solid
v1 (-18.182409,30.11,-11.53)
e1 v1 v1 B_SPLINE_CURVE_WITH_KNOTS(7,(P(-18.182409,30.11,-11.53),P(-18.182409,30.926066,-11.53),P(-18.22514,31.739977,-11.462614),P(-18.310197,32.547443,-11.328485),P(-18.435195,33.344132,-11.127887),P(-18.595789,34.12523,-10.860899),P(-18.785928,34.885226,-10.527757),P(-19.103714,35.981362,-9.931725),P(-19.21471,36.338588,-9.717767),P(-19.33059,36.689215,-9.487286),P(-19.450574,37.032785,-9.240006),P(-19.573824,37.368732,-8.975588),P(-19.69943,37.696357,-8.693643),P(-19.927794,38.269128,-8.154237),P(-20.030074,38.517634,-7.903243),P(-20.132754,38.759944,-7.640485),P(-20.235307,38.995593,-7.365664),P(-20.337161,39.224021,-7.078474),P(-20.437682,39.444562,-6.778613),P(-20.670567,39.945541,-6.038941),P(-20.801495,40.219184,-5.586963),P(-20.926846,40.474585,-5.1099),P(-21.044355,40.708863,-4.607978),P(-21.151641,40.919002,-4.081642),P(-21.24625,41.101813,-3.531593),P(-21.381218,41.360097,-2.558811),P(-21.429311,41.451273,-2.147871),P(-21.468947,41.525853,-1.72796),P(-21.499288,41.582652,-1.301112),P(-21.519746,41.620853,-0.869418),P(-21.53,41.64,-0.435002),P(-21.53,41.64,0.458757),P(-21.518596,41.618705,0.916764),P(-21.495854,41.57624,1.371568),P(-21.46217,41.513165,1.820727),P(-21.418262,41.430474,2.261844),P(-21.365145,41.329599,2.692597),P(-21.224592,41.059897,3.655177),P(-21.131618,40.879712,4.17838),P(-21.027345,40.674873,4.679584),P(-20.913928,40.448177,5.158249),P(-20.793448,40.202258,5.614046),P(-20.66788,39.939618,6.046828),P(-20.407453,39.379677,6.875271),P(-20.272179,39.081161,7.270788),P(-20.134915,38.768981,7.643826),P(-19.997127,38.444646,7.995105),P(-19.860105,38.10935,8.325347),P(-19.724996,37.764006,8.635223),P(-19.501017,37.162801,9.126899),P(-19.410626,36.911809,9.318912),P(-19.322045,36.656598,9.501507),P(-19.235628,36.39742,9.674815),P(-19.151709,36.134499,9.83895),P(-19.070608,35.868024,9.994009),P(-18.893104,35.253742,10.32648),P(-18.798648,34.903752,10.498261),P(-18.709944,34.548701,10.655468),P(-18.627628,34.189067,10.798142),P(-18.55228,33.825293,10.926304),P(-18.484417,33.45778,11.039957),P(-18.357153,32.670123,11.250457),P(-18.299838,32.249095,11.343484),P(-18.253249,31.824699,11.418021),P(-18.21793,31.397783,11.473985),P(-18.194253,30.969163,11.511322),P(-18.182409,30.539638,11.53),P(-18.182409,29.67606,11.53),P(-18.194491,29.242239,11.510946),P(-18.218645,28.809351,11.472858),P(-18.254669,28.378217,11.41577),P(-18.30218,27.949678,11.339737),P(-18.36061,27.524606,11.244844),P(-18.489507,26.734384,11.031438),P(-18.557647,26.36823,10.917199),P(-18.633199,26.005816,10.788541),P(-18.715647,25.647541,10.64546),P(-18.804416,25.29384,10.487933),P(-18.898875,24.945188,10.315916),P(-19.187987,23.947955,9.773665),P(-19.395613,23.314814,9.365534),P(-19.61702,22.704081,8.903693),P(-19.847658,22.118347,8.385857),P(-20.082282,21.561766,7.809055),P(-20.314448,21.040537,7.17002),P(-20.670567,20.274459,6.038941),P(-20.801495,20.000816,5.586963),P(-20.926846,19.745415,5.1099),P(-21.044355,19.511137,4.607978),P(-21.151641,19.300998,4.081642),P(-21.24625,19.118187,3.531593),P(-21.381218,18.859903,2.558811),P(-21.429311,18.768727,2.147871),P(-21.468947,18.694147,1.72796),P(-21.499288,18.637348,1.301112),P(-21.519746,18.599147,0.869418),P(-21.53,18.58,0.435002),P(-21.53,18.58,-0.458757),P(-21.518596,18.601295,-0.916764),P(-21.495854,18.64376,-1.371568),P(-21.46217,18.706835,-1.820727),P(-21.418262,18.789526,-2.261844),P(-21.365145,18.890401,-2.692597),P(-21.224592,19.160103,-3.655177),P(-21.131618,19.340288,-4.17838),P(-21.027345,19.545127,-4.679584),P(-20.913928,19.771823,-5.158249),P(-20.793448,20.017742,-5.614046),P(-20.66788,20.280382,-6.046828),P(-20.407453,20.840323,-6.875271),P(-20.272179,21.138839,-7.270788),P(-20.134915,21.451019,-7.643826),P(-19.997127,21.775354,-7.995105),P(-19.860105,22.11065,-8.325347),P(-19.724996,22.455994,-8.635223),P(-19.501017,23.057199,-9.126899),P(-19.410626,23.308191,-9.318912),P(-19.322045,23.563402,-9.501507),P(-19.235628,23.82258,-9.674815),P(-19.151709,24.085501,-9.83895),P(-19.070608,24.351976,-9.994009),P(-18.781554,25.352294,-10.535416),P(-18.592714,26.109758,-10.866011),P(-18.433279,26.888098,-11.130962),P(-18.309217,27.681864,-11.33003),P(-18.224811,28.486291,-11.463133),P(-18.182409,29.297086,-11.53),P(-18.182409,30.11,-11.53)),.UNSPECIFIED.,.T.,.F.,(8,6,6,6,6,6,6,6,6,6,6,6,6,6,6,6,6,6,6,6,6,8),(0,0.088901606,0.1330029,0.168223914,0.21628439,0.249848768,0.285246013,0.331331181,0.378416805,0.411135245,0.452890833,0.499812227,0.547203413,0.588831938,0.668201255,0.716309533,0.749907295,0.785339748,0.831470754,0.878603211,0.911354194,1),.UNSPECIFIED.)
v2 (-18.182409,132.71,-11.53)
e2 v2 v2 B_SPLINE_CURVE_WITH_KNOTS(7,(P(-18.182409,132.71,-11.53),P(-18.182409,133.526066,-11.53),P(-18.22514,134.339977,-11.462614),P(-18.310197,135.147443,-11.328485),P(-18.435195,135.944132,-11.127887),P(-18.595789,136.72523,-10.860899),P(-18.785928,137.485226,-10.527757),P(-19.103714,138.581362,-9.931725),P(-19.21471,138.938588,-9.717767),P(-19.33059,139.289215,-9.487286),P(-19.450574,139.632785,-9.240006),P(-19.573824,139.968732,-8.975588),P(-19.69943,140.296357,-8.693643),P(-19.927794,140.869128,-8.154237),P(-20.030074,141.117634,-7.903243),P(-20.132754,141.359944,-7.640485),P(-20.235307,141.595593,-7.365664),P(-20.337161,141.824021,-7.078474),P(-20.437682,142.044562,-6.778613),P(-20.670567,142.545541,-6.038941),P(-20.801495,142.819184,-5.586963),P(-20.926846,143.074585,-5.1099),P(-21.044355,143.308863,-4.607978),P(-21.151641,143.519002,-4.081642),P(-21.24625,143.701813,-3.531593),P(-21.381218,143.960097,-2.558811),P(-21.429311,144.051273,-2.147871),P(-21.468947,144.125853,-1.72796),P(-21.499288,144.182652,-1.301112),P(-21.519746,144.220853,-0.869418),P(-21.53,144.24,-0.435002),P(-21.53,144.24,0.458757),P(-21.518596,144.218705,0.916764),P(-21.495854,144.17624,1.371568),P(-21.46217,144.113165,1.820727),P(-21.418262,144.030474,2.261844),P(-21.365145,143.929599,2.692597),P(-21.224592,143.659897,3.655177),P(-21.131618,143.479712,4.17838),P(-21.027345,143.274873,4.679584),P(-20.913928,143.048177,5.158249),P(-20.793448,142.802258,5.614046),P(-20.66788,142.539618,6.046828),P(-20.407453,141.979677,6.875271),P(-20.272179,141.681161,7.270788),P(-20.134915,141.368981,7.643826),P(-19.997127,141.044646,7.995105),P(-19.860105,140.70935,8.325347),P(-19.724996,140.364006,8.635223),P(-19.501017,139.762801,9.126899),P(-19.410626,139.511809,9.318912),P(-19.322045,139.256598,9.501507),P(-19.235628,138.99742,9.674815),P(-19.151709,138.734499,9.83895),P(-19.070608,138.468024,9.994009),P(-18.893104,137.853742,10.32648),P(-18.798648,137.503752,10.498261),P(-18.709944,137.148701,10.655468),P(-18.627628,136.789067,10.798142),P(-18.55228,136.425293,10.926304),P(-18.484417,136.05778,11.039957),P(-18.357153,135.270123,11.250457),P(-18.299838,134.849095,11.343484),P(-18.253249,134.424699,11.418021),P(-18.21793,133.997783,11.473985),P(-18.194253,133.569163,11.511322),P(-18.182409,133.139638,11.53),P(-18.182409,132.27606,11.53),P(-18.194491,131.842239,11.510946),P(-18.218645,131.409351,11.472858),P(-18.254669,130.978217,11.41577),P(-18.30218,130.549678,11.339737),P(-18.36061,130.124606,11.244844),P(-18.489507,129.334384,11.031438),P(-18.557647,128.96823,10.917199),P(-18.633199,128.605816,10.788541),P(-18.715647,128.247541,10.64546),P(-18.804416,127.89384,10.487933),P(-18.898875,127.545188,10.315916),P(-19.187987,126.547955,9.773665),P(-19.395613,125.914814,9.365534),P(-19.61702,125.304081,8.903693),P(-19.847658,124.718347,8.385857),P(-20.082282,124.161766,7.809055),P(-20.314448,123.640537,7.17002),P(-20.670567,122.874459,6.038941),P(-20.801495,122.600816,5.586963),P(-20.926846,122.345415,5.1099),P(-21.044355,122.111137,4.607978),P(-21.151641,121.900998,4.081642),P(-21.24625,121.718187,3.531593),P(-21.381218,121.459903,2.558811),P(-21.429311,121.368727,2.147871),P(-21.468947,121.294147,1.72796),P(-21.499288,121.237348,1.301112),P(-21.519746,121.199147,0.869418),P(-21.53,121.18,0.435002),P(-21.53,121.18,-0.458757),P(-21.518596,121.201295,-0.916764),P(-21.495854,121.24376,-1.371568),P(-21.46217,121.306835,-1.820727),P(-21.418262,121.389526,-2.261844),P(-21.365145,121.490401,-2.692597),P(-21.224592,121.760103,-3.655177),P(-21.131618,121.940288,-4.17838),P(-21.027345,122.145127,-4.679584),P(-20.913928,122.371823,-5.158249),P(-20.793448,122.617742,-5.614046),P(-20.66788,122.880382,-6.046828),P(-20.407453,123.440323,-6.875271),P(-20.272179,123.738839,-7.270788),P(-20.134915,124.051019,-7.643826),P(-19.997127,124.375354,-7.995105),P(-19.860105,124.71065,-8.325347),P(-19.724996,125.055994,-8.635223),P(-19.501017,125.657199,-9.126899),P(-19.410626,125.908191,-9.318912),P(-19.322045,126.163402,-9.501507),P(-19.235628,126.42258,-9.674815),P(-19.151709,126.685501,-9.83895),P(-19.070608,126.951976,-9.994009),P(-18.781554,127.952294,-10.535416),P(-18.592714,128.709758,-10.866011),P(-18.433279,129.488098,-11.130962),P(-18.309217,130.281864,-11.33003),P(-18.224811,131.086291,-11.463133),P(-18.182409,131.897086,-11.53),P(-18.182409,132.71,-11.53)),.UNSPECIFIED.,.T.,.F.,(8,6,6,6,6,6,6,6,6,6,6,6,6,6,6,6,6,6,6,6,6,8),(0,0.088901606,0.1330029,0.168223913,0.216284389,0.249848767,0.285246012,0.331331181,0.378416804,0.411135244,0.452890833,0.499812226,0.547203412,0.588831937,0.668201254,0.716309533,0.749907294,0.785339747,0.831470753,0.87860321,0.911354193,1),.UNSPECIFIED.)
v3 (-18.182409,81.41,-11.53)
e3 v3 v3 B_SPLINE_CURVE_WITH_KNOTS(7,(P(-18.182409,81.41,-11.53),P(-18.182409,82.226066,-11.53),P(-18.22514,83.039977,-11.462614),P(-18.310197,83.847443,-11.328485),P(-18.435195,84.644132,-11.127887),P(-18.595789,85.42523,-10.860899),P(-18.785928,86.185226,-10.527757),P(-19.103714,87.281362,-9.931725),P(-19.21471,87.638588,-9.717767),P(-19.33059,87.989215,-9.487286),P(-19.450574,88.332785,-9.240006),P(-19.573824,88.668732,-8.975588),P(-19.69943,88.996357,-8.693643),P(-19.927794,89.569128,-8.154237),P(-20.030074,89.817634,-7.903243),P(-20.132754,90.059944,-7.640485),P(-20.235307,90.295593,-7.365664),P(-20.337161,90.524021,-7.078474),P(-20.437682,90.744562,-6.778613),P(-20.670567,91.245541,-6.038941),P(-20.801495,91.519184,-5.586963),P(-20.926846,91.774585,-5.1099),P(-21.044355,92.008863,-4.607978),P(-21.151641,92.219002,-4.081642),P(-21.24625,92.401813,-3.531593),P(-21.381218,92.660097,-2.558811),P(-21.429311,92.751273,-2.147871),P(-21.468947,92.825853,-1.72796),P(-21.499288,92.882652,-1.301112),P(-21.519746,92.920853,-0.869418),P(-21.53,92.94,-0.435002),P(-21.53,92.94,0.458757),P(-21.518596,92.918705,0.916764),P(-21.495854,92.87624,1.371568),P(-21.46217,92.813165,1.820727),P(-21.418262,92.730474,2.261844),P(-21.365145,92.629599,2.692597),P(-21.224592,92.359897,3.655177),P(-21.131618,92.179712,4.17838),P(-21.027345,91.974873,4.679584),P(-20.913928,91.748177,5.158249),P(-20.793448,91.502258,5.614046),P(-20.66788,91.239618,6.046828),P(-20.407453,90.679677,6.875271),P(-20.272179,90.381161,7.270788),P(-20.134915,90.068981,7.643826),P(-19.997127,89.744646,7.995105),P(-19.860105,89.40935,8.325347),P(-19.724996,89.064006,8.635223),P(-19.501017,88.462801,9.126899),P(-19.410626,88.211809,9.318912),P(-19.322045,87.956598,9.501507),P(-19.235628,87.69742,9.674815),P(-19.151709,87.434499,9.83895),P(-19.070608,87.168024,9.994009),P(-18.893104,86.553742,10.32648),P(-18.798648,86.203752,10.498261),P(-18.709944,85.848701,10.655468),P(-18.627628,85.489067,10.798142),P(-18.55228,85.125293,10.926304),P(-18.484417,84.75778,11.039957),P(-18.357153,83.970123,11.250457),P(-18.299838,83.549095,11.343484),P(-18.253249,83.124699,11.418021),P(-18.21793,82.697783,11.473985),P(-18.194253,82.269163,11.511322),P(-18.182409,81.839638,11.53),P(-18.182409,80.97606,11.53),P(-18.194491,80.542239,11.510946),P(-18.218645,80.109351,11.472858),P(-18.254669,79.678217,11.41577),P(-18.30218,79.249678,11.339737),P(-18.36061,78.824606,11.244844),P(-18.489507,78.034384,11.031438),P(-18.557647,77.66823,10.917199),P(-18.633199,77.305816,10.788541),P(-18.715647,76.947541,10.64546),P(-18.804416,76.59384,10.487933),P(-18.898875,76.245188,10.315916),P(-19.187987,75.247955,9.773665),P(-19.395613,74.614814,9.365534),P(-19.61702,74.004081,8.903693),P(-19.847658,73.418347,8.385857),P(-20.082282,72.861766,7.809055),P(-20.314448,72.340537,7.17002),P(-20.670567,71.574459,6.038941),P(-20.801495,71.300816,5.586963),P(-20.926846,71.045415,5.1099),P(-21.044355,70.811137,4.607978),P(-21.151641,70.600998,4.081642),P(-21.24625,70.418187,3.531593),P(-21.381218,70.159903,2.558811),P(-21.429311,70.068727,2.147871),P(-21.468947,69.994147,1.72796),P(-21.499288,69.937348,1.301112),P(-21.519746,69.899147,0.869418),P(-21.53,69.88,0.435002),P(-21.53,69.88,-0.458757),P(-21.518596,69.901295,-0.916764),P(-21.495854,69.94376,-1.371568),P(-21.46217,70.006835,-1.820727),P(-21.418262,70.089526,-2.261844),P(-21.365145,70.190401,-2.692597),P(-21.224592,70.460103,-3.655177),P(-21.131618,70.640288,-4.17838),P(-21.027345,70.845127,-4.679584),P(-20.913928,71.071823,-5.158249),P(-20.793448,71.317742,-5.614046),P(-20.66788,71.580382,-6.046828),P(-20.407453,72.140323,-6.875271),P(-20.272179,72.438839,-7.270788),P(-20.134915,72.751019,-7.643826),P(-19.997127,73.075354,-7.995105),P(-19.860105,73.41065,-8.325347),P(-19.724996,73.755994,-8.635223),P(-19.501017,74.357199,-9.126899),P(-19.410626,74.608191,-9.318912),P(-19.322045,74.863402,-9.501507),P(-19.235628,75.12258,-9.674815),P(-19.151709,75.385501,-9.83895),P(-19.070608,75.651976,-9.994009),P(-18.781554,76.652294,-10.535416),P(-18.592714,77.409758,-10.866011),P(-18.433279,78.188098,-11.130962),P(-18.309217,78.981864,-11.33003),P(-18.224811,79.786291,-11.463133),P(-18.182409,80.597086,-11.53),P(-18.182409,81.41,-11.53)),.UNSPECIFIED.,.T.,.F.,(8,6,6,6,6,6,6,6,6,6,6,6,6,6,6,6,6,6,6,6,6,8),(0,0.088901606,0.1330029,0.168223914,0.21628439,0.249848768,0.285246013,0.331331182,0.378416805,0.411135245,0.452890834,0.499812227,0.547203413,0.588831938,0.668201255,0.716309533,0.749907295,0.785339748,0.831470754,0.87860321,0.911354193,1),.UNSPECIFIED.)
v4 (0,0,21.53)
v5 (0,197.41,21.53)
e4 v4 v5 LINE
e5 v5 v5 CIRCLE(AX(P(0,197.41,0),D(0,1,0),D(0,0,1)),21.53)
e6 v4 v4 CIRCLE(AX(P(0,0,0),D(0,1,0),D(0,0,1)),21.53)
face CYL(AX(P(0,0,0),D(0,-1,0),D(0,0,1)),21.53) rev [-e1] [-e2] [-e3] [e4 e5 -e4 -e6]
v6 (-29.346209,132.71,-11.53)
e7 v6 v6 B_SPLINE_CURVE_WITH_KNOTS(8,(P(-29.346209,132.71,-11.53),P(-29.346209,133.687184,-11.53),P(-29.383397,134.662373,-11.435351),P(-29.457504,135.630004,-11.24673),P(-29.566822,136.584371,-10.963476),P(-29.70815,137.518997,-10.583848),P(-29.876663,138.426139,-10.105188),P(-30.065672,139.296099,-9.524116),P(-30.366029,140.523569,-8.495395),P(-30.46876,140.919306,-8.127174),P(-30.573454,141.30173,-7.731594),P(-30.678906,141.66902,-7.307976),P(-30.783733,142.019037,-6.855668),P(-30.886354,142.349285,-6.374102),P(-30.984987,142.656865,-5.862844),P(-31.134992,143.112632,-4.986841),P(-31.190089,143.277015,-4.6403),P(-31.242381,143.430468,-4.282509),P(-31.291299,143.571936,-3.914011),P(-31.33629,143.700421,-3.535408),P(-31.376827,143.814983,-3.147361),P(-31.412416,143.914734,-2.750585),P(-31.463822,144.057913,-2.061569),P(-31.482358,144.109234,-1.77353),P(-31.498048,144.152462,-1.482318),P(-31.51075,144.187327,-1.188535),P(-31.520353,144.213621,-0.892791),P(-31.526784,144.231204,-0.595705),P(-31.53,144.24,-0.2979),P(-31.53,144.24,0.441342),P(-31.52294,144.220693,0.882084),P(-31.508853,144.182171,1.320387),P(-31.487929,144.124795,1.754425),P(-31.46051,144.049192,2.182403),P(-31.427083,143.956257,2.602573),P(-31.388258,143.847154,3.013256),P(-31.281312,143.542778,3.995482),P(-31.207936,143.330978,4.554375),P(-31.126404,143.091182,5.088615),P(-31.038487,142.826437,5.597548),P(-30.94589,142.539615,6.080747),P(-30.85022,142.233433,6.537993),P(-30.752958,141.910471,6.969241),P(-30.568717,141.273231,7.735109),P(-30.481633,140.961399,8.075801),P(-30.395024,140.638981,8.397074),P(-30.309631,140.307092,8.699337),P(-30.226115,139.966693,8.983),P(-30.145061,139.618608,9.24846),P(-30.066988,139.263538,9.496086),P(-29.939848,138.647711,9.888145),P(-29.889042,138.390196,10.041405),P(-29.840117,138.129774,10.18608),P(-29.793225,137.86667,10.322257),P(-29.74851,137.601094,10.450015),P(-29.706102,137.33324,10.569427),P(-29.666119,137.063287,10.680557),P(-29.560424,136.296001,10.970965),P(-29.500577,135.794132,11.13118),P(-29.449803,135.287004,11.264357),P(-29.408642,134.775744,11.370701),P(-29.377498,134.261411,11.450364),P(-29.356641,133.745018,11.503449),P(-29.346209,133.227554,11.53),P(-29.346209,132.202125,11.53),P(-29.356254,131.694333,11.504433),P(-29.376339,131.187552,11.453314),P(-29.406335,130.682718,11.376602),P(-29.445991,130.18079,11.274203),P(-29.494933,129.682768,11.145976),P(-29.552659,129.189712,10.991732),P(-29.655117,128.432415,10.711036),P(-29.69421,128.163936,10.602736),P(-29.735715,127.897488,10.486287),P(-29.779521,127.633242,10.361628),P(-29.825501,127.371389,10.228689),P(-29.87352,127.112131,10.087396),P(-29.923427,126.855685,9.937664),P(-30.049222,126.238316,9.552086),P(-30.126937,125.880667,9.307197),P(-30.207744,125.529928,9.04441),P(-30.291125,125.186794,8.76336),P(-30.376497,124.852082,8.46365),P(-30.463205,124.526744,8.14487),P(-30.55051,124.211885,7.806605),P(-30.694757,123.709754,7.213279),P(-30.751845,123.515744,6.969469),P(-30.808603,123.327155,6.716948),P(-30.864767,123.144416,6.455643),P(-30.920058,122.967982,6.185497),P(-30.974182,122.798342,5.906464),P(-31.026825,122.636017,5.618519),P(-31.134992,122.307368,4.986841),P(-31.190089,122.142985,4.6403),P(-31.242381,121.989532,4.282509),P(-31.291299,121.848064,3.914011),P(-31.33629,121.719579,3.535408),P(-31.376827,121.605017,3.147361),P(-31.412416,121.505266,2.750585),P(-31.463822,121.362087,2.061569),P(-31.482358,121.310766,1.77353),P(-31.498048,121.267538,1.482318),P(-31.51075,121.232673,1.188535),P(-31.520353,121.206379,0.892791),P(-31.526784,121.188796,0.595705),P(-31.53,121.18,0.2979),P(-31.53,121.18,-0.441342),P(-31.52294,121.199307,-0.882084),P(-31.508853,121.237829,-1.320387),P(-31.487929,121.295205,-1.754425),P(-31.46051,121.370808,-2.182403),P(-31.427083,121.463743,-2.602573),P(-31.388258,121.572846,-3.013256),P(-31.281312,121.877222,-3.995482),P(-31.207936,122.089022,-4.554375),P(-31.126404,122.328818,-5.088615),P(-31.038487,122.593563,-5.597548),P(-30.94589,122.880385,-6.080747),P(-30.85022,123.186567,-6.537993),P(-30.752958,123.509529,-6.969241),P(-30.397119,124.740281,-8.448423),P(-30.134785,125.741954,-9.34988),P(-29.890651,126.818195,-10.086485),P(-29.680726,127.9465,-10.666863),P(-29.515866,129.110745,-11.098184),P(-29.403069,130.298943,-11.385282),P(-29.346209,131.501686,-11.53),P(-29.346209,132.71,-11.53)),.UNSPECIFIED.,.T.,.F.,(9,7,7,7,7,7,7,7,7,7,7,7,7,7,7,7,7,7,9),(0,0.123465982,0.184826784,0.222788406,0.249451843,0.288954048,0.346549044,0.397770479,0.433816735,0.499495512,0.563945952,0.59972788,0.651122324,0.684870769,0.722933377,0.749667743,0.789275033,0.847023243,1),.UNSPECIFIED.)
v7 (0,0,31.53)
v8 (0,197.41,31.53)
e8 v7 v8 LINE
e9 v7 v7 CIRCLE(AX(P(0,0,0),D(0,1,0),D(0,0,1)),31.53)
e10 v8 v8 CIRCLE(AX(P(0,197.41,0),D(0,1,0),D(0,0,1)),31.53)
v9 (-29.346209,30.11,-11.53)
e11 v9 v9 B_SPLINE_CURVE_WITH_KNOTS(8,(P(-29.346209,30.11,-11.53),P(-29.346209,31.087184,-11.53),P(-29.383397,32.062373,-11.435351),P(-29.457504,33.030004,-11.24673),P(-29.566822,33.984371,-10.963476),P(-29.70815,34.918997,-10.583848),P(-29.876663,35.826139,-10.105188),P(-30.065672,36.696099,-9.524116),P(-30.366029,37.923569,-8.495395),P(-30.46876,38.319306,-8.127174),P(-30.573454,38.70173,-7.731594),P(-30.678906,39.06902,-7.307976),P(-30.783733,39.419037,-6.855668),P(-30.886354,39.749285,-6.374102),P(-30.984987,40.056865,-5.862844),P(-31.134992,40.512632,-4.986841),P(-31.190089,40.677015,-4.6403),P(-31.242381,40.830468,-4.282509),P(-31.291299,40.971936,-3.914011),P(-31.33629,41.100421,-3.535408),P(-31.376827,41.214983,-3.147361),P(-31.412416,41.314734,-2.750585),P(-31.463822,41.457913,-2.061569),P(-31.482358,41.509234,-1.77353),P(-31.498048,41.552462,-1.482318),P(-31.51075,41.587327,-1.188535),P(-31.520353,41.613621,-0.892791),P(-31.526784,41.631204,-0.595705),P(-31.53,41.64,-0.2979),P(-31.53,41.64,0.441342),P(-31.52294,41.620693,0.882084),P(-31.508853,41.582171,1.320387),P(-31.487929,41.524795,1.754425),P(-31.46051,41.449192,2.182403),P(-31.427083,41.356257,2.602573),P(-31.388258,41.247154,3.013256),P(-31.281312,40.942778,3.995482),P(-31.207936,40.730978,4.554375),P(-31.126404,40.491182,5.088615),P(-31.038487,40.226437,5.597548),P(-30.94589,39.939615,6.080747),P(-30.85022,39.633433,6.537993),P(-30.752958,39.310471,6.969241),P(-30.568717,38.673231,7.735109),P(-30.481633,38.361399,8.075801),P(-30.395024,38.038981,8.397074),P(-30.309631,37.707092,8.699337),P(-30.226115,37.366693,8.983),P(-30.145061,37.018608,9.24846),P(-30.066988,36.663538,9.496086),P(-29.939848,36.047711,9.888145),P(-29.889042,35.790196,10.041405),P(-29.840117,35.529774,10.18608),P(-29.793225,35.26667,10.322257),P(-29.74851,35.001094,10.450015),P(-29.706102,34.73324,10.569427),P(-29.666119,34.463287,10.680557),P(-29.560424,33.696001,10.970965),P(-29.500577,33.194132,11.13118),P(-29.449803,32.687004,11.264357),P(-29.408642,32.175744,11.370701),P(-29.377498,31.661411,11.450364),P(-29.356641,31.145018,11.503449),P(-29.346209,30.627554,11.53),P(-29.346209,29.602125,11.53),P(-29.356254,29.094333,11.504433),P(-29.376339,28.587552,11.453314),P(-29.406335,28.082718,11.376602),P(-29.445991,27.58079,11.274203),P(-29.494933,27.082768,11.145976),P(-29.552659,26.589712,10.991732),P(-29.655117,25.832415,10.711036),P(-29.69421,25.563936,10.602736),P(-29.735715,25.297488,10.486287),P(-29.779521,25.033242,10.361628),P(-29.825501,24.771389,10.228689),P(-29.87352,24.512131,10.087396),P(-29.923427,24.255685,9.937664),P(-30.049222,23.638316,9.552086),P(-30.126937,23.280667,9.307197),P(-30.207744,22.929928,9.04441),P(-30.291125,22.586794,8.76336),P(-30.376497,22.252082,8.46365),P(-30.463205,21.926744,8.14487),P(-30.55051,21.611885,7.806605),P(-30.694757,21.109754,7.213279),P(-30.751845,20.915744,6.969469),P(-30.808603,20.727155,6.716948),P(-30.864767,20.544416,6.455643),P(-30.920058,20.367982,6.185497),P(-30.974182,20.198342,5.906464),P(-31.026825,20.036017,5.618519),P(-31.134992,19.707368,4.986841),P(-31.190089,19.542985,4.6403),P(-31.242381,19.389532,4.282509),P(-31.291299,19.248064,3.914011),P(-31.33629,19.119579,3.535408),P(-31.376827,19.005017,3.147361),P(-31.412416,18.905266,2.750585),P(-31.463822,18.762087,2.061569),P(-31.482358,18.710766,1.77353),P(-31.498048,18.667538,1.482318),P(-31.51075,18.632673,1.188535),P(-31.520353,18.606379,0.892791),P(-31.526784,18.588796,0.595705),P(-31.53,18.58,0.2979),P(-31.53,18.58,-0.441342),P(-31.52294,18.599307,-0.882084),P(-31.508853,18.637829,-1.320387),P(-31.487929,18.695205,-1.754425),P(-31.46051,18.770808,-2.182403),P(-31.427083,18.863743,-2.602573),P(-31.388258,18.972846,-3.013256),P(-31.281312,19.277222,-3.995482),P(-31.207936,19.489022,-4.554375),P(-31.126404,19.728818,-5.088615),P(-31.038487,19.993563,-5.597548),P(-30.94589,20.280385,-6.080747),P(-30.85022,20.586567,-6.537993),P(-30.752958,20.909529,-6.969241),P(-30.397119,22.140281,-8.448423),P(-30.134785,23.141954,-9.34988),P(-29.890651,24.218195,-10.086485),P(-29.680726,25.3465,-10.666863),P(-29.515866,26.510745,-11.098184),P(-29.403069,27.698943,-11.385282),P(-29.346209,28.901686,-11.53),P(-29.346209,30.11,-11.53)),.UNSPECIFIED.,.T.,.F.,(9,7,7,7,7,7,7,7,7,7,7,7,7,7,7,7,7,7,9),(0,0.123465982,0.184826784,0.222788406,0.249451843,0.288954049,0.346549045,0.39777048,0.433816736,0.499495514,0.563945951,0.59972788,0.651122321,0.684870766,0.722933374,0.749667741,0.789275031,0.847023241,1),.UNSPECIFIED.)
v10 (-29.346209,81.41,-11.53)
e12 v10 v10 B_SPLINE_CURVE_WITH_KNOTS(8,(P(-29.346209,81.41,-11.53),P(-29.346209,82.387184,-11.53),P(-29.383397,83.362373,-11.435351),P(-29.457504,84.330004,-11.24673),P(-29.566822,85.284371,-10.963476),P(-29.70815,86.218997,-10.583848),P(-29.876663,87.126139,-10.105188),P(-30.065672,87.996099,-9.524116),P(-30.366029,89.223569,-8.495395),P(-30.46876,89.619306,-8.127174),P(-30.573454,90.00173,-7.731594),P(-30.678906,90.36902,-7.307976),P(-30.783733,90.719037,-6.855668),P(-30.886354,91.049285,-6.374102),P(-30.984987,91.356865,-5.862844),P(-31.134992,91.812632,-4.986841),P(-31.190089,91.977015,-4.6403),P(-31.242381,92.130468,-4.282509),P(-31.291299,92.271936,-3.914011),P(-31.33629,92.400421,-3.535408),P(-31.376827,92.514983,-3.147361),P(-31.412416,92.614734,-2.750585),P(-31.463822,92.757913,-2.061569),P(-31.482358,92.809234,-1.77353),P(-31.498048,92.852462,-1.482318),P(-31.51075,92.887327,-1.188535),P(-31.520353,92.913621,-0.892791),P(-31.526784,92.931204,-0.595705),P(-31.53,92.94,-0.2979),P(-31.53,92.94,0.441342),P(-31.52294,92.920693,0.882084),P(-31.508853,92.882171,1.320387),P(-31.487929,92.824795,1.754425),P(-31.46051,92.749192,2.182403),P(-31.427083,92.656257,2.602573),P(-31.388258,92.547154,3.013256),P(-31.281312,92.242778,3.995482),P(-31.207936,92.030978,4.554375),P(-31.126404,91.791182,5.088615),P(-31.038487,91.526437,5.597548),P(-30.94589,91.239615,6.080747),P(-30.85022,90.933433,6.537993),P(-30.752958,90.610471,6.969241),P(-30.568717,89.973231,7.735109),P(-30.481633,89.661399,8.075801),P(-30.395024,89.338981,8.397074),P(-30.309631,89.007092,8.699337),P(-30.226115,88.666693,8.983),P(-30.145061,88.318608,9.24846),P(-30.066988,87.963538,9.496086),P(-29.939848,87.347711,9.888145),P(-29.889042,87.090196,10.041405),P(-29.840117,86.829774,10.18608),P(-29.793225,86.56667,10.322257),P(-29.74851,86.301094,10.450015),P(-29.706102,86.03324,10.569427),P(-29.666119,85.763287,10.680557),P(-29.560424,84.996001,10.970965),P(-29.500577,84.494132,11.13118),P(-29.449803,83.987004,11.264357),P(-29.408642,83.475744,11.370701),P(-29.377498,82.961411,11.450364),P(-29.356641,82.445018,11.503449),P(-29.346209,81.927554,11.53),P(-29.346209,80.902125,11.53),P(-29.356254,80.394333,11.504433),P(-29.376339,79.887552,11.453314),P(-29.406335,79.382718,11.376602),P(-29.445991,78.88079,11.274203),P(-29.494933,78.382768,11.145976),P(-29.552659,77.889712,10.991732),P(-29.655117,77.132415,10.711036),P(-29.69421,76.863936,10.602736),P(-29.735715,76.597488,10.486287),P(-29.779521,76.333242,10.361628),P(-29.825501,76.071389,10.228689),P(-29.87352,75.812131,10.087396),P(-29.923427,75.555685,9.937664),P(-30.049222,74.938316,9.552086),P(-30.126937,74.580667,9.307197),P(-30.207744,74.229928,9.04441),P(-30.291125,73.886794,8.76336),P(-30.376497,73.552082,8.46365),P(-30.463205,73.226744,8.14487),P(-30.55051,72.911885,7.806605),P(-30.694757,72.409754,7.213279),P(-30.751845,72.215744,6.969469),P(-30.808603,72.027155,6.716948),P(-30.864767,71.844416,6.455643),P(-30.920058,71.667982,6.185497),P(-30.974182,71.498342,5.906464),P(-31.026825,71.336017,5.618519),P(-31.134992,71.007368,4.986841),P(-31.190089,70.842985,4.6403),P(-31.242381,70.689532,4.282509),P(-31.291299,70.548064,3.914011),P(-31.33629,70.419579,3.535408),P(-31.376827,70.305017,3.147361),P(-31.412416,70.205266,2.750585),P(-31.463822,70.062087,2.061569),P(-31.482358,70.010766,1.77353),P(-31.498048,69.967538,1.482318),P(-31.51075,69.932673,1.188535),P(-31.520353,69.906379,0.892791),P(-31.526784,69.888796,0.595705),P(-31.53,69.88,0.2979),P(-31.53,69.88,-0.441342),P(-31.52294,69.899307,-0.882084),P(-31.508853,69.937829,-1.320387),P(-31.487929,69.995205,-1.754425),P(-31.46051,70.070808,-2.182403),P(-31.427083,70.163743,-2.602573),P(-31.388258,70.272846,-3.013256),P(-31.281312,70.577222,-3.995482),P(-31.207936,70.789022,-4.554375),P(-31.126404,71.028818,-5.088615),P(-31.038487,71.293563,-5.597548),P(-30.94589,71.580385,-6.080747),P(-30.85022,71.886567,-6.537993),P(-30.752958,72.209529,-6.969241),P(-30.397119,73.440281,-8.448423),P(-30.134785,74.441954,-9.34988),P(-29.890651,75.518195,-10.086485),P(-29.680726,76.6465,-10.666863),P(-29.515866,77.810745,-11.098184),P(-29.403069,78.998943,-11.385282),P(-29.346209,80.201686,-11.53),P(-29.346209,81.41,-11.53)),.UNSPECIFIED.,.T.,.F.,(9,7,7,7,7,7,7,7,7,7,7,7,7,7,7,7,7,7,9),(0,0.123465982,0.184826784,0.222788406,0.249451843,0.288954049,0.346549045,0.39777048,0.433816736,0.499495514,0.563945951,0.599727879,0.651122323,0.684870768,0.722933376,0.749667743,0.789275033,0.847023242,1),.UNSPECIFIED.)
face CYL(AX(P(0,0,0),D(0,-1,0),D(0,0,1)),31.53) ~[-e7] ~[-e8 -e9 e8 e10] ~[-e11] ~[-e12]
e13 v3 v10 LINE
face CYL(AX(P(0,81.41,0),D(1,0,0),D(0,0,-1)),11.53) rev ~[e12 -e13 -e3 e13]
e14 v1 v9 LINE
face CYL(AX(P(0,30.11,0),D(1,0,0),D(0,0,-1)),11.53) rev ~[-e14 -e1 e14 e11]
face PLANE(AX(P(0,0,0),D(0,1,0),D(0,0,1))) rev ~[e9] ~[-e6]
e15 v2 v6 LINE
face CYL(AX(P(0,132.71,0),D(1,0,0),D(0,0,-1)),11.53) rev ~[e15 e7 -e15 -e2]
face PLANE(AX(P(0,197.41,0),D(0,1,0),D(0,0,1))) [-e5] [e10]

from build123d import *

# Parameters (mm, degrees)
SKETCH1_R           = 31.53
SKETCH1_R_2         = 21.53
BOSS_EXTRUDE1_DEPTH = 197.41
SKETCH2_R           = 11.53
CUT_EXTRUDE1_DEPTH  = 203.383274754


with BuildPart() as part:
    # Sketch1 → Boss-Extrude1 (new body)
    with BuildSketch(Plane(origin=(0, 0, 0), x_dir=(1, 0, 0), z_dir=(0, 1, 0))):
        with Locations(Location((0, 0, 0), (0, 0, 270))):
            Circle(SKETCH1_R)
        with Locations(Location((0, 0, 0), (0, 0, 270))):
            Circle(SKETCH1_R_2, mode=Mode.SUBTRACT)
    extrude(amount=BOSS_EXTRUDE1_DEPTH)

    # Sketch2 → Cut-Extrude1 (cut, through all)
    with BuildSketch(Plane(origin=(0, 0, 0), x_dir=(0, 0, -1), z_dir=(1, 0, 0))):
        with Locations((0, 132.71)):
            Circle(SKETCH2_R)
        with Locations((0, 81.41)):
            Circle(SKETCH2_R)
        with Locations((0, 30.11)):
            Circle(SKETCH2_R)
    extrude(amount=-CUT_EXTRUDE1_DEPTH, mode=Mode.SUBTRACT)


solid = part.part
